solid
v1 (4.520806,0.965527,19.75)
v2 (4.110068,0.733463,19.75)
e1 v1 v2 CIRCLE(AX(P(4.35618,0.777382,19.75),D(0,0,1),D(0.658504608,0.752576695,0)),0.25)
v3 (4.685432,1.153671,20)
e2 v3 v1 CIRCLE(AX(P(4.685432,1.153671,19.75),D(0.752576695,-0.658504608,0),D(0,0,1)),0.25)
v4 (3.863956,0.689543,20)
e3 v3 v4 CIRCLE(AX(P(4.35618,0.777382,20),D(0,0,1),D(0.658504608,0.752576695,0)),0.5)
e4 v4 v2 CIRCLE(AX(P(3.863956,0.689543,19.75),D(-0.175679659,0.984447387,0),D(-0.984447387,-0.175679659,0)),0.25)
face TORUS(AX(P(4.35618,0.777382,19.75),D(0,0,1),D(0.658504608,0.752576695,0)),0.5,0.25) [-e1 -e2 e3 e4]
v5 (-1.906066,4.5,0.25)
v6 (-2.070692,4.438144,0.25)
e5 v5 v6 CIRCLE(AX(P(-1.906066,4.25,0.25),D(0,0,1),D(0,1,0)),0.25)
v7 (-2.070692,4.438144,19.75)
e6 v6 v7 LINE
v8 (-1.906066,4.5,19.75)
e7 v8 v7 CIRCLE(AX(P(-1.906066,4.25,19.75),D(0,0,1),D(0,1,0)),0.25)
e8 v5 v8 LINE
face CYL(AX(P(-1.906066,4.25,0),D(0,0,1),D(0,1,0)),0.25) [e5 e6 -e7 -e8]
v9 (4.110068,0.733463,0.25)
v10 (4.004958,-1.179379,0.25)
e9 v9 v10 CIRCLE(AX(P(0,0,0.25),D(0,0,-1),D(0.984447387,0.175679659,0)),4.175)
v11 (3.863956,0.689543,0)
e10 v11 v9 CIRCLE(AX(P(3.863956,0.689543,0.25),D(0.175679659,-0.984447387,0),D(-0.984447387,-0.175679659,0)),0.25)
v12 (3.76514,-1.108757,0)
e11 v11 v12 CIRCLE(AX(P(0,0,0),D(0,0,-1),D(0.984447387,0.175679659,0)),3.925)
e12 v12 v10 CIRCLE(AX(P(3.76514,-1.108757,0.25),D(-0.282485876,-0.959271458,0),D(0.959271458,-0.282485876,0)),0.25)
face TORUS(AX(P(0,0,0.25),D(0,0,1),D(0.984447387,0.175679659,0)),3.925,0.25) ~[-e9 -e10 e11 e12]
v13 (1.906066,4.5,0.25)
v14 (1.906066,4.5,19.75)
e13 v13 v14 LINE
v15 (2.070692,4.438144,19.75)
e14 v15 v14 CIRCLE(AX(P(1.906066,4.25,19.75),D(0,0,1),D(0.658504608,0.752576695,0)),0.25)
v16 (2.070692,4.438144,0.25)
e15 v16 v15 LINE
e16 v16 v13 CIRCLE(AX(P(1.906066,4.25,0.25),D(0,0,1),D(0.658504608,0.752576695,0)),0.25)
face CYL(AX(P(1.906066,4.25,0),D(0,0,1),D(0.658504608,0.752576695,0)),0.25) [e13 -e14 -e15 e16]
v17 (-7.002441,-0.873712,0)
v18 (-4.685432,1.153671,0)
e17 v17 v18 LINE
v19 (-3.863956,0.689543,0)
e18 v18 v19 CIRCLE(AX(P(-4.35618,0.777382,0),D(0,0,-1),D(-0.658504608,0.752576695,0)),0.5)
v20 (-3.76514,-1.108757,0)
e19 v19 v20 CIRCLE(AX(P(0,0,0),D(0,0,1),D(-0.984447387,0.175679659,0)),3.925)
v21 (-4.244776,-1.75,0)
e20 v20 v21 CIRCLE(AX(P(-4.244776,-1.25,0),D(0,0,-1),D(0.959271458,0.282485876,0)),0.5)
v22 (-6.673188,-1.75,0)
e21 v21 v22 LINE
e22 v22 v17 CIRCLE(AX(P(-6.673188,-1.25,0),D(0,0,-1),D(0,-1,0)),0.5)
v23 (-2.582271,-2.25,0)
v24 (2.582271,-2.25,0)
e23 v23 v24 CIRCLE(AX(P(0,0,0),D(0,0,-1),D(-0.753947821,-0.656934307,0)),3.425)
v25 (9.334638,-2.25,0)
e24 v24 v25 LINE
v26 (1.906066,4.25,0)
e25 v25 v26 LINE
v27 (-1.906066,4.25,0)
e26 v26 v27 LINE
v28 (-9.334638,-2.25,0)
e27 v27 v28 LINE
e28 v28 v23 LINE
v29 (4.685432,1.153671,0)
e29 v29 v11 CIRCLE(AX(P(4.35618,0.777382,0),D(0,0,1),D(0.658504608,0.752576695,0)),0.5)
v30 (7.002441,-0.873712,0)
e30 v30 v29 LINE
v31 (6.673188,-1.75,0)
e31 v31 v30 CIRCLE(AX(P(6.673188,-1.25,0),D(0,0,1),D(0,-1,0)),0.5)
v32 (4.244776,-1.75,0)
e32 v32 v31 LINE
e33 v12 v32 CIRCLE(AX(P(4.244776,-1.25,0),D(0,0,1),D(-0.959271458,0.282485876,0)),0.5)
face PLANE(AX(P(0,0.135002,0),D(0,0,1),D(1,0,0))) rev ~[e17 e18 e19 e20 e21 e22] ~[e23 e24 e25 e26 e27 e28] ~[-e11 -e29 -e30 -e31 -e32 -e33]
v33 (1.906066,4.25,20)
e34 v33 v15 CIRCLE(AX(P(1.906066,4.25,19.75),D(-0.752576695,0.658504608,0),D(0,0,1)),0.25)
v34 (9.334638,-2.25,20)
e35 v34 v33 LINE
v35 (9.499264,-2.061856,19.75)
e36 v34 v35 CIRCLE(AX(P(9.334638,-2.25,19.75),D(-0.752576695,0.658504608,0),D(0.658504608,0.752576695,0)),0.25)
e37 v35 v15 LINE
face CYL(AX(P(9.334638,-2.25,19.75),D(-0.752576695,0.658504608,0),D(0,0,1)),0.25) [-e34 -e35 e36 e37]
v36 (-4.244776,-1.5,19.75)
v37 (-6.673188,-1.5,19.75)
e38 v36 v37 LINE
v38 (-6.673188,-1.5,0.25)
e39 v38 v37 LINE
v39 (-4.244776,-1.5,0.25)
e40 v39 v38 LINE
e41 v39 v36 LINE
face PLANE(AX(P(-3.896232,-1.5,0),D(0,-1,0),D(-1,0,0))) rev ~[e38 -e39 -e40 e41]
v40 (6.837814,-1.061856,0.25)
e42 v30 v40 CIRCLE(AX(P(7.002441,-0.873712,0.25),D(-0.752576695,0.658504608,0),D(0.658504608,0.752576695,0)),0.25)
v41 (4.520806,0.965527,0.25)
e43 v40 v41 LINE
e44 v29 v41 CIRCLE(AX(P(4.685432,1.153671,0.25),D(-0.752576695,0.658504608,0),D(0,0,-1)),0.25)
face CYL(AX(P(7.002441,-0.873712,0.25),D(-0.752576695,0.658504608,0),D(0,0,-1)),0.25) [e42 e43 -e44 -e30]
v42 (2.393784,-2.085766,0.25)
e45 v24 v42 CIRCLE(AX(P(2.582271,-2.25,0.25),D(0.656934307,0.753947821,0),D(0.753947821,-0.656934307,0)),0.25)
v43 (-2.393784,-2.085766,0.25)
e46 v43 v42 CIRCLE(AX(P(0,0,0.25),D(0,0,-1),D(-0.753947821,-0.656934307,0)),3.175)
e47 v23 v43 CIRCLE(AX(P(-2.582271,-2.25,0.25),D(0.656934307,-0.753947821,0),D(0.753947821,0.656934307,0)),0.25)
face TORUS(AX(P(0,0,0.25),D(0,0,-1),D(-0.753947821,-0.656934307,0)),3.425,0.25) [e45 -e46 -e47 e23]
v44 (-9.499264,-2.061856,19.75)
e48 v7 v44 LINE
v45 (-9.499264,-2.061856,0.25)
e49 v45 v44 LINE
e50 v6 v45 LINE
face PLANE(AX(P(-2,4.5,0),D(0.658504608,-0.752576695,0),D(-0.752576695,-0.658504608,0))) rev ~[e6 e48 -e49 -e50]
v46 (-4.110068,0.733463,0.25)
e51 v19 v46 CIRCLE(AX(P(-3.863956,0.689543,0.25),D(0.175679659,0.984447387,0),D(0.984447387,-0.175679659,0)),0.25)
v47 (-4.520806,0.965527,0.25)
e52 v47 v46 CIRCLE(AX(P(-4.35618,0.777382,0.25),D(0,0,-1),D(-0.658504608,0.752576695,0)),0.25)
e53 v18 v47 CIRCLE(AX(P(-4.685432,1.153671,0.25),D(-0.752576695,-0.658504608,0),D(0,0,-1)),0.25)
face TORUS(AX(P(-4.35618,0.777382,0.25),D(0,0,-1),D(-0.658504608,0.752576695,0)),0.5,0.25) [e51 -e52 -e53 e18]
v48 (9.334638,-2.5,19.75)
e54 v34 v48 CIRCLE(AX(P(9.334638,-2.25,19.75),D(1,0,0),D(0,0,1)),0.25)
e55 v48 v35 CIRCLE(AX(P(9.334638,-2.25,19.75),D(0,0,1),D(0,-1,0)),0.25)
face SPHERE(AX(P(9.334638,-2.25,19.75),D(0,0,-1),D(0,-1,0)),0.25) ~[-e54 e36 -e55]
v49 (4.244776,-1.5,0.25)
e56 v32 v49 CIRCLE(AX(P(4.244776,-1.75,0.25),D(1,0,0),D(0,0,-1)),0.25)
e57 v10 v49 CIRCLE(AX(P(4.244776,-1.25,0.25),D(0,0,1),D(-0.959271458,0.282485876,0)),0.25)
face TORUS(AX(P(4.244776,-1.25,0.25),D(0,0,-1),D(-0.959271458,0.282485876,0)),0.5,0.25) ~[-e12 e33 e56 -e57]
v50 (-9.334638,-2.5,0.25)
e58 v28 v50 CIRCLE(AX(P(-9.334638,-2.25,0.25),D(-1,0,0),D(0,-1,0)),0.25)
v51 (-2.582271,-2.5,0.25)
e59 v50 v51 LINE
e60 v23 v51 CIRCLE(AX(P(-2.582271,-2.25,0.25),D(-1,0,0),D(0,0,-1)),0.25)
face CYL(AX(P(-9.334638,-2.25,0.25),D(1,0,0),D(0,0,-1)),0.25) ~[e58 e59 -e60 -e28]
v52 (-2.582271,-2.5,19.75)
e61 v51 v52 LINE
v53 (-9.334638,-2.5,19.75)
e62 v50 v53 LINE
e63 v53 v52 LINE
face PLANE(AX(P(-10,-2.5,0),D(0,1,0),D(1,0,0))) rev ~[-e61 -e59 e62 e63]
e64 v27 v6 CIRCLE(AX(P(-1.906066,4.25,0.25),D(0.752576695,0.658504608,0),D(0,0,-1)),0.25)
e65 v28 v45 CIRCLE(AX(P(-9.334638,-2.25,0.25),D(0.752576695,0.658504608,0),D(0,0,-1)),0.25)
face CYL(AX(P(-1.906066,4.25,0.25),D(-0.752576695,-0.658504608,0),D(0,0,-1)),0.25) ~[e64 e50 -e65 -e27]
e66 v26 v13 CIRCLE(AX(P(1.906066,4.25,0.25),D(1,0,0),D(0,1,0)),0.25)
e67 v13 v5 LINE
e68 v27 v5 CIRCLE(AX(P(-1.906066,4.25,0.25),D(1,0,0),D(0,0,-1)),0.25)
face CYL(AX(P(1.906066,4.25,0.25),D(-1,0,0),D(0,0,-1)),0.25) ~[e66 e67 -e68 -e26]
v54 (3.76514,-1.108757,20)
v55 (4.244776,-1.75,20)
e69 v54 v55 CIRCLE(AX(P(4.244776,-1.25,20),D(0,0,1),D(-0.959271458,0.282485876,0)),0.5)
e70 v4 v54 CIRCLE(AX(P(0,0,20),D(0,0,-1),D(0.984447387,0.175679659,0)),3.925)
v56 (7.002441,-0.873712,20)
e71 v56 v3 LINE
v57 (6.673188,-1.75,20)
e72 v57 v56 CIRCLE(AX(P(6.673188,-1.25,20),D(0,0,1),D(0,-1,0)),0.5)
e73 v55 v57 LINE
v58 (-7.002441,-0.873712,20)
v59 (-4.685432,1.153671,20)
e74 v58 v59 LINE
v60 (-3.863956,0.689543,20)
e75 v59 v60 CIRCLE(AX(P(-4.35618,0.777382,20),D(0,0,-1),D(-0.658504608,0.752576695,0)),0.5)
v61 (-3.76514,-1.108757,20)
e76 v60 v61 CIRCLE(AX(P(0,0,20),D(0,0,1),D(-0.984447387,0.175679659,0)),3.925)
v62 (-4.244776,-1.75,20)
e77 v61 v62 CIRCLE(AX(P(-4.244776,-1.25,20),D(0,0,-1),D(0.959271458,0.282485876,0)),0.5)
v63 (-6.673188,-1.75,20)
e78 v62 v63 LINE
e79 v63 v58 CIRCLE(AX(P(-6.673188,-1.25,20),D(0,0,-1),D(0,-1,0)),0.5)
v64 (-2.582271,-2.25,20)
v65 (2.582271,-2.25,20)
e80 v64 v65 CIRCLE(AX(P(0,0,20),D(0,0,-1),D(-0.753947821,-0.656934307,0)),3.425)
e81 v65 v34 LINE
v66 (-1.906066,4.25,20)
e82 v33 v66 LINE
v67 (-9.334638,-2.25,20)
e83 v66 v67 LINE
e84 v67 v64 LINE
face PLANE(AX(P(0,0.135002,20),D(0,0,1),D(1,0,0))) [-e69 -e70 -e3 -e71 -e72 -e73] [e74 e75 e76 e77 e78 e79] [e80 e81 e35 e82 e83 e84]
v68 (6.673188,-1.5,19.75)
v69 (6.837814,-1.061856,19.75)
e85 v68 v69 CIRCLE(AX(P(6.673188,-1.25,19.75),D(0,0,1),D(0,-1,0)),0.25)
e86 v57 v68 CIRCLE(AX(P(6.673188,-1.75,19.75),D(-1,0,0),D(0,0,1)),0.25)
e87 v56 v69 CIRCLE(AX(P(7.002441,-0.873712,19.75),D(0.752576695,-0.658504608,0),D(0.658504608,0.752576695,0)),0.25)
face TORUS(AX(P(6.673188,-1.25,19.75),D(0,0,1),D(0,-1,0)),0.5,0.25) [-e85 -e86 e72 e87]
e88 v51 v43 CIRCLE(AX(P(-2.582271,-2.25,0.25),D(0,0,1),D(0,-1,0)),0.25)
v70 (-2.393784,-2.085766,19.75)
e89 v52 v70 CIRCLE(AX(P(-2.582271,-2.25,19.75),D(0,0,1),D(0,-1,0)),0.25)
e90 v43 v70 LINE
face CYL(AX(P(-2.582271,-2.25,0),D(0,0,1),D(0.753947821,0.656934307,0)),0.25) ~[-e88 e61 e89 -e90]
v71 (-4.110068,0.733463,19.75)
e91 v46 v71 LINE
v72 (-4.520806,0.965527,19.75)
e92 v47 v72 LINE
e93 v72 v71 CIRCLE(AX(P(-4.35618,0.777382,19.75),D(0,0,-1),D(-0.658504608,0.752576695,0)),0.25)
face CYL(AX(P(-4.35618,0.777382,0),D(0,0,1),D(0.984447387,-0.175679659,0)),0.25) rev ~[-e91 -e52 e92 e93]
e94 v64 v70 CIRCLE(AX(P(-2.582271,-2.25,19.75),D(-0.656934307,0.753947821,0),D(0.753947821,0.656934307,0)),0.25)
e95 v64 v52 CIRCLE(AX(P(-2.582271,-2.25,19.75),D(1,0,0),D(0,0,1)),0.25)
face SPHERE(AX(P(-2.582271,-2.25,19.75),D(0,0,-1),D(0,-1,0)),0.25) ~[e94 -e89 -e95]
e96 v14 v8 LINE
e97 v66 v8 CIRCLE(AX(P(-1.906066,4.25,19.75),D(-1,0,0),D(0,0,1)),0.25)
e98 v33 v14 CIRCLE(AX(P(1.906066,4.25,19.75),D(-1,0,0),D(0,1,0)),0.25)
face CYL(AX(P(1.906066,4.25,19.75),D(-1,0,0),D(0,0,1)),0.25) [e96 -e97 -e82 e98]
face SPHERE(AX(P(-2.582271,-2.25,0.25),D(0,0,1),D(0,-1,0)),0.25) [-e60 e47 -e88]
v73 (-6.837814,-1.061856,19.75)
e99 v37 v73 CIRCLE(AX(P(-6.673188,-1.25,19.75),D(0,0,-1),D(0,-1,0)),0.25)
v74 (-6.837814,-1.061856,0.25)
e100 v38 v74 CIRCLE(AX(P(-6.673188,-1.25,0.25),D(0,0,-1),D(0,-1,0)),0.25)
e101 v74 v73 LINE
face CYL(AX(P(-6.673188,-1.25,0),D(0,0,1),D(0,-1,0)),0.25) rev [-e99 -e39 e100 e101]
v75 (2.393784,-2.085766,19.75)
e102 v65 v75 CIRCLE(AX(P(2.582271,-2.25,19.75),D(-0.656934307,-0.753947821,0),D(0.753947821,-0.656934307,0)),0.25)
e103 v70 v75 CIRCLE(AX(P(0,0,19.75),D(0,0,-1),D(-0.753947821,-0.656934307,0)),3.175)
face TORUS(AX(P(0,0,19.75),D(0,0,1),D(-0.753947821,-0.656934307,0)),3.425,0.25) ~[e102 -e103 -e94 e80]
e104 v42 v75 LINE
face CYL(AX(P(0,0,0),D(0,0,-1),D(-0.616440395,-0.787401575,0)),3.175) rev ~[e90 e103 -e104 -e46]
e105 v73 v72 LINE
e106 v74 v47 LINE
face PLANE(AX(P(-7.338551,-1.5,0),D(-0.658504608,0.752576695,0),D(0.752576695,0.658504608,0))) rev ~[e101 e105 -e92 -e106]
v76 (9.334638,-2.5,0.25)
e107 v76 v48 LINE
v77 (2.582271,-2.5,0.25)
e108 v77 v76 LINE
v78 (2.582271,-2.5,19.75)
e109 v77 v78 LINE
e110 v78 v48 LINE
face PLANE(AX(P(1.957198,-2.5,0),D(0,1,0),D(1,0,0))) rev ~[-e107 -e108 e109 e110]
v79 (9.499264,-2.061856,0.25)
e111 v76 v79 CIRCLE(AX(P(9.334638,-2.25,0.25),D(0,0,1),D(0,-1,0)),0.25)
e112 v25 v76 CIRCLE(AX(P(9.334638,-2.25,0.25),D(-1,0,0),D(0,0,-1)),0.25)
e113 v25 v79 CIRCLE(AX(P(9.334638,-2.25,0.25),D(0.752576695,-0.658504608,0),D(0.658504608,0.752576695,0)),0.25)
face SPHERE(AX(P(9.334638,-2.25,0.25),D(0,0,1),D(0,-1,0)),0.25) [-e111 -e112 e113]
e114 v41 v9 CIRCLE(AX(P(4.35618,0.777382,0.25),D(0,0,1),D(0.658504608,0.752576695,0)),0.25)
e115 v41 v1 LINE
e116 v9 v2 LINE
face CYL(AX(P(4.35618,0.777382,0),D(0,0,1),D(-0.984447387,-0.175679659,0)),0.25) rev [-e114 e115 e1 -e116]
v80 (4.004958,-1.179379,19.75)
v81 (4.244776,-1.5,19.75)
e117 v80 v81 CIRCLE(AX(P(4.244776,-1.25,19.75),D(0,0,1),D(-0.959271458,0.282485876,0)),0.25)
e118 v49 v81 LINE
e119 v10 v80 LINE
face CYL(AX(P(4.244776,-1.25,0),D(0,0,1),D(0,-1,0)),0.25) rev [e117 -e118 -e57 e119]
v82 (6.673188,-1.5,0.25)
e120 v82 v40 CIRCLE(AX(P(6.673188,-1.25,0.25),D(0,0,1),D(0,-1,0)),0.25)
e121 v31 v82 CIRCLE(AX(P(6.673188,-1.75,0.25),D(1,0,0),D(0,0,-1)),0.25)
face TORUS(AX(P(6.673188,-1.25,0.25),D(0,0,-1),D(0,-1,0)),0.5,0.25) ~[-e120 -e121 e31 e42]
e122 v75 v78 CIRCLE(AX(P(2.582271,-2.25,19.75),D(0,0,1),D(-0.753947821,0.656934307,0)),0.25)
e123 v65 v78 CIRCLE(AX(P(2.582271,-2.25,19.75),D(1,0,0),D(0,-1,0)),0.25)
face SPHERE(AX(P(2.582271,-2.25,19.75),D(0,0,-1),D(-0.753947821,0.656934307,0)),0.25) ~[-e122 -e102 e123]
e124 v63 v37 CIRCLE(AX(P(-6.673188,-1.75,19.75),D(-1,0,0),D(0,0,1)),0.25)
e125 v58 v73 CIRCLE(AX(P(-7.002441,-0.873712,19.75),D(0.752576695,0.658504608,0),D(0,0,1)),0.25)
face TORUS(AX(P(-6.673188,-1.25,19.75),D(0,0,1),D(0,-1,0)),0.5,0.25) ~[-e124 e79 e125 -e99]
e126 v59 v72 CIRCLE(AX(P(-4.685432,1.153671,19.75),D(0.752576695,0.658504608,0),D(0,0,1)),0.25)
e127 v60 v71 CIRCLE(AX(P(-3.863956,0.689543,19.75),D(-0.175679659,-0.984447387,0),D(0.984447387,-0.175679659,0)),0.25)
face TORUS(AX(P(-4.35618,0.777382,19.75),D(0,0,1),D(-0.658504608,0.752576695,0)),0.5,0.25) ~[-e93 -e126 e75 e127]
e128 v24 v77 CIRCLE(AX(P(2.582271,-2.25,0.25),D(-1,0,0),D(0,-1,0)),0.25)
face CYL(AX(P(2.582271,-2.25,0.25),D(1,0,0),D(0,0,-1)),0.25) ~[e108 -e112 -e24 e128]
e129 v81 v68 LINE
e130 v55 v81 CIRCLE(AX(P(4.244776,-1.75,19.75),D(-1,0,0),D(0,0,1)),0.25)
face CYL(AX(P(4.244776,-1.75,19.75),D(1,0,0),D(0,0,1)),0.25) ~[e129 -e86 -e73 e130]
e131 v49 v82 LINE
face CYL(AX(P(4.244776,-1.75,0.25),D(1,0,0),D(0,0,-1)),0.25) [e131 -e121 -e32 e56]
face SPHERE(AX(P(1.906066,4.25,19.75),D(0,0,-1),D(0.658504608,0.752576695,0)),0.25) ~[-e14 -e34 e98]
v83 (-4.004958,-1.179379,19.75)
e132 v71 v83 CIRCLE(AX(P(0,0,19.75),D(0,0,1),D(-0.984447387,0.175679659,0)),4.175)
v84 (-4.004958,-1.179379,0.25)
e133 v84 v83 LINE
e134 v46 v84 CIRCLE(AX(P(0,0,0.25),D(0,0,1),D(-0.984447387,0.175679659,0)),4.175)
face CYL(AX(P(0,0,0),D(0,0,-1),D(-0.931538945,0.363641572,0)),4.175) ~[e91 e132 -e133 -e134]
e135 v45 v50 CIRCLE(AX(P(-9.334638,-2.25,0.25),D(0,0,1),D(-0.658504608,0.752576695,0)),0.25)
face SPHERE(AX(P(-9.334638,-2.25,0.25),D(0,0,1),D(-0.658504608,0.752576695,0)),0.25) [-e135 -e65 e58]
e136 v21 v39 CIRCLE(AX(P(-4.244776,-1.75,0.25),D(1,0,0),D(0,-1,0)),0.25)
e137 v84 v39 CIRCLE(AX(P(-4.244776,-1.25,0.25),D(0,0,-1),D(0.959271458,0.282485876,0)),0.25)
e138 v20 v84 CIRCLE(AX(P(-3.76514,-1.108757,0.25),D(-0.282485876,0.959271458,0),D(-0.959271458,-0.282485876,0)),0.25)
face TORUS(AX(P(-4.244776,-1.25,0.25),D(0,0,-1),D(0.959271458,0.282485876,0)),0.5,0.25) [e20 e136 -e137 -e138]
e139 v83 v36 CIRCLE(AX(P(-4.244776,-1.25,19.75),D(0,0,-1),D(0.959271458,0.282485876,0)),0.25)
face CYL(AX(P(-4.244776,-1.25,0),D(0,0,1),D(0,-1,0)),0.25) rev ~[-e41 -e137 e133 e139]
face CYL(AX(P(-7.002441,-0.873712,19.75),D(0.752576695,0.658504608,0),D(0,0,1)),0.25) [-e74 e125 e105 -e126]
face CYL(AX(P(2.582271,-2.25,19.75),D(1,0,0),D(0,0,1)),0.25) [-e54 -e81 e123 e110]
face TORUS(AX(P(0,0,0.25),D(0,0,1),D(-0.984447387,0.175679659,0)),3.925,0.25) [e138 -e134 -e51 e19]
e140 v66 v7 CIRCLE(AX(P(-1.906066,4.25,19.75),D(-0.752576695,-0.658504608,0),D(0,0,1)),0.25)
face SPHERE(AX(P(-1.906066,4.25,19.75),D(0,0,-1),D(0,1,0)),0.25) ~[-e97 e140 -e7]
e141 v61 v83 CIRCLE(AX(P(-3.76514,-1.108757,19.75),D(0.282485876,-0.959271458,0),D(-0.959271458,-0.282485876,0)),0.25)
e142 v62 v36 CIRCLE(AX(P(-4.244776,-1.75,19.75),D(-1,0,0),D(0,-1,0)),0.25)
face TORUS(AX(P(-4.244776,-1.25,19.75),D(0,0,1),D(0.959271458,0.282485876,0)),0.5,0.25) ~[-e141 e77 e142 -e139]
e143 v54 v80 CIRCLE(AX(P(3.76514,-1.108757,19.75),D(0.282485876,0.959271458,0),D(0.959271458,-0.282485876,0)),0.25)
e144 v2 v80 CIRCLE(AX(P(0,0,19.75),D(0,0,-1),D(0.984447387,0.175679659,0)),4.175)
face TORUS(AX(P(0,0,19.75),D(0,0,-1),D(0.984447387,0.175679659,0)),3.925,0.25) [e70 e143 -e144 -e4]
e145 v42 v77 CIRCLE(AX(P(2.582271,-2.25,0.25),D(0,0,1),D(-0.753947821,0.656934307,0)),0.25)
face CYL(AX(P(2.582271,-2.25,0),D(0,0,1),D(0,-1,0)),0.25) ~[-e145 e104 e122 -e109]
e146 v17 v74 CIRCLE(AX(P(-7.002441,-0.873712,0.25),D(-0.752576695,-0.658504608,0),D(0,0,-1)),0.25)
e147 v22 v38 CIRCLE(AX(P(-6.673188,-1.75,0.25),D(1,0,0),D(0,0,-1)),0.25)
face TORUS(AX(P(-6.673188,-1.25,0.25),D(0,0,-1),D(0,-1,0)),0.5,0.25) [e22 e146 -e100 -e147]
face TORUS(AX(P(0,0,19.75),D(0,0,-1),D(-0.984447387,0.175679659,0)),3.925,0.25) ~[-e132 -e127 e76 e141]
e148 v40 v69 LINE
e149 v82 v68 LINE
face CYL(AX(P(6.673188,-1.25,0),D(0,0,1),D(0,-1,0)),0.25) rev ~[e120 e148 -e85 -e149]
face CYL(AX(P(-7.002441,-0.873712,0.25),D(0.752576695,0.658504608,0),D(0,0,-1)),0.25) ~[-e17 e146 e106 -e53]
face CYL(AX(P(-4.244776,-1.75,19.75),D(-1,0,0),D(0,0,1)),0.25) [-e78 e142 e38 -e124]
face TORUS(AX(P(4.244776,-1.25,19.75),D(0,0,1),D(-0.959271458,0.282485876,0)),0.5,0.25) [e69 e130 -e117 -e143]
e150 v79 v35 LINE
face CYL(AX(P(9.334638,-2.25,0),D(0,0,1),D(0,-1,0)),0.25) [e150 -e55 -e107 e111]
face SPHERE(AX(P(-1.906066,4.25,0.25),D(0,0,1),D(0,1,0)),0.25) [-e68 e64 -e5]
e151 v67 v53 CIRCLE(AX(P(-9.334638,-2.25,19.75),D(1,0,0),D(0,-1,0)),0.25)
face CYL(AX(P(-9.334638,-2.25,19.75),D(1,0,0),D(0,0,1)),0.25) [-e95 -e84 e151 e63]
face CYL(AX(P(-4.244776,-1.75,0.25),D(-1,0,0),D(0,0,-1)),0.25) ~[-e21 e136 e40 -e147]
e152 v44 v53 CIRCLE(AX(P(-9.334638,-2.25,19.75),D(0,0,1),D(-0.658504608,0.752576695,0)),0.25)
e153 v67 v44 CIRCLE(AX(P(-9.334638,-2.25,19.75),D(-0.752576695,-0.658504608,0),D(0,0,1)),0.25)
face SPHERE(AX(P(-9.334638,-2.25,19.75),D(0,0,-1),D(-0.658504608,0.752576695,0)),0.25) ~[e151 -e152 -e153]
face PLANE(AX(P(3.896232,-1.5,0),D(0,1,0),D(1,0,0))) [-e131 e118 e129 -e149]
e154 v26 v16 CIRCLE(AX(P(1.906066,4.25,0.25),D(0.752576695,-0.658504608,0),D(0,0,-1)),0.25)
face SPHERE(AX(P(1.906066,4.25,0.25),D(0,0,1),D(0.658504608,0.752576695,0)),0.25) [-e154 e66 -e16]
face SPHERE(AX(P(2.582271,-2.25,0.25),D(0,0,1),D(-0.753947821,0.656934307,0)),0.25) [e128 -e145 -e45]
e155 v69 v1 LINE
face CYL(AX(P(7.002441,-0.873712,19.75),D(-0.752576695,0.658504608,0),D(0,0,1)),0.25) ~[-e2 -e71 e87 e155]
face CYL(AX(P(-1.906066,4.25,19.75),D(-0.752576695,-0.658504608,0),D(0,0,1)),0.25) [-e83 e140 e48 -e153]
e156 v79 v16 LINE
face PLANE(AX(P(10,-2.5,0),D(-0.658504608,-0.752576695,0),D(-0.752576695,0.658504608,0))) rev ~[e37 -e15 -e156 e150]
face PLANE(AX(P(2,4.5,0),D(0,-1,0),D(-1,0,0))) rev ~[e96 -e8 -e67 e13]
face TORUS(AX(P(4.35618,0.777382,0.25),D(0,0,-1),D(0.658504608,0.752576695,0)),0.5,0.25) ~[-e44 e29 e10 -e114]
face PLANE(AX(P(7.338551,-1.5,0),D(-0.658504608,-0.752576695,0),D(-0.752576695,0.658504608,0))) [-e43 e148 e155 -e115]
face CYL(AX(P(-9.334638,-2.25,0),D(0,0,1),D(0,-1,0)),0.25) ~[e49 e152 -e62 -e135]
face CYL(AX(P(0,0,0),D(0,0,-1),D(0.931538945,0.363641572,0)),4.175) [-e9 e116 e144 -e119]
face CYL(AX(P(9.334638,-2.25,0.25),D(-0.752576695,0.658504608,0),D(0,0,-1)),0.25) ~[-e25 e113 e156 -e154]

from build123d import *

# Parameters (mm, degrees)
BOSS_EXTRUDE1_DEPTH = 20
FILLET1_R           = 0.25
FILLET2_R           = 0.25


with BuildPart() as part:
    # Sketch1 → Boss-Extrude1 (new body)
    with BuildSketch(Plane.XY):
        with BuildLine():
            Line((1.957198253, -2.5), (10, -2.5))
            Line((10, -2.5), (2, 4.5))
            Line((2, 4.5), (0, 4.5))
            Line((0, 4.5), (-2, 4.5))
            Line((-2, 4.5), (-10, -2.5))
            Line((-10, -2.5), (-1.957198253, -2.5))
            ThreePointArc((-1.957198253, -2.5), (0, 3.175), (1.957198253, -2.5))
        make_face()
        with BuildLine():
            Line((3.896232154, -1.5), (7.338550598, -1.5))
            Line((7.338550598, -1.5), (3.889175098, 1.518203563))
            ThreePointArc((3.889175098, 1.518203563), (4.174988588, 0.00976181), (3.896232154, -1.5))
        make_face(mode=Mode.SUBTRACT)
        with BuildLine():
            Line((-7.338550598, -1.5), (-3.889175098, 1.518203563))
            ThreePointArc((-3.889175098, 1.518203563), (-4.174988588, 0.00976181), (-3.896232154, -1.5))
            Line((-3.896232154, -1.5), (-7.338550598, -1.5))
        make_face(mode=Mode.SUBTRACT)
    extrude(amount=BOSS_EXTRUDE1_DEPTH)

    # Fillet1
    fillet1_edges = [part.edges().sort_by_distance(p)[0] for p in [
        (7.338550598, -1.5, 10),
        (3.889175098, 1.518203563, 10),
        (3.896232154, -1.5, 10),
        (-7.338550598, -1.5, 10),
        (-3.896232154, -1.5, 10),
        (-3.889175098, 1.518203563, 10),
        (-1.957198253, -2.5, 10),
        (-10, -2.5, 10),
        (-2, 4.5, 10),
        (2, 4.5, 10),
        (10, -2.5, 10),
        (1.957198253, -2.5, 10),
    ]]
    fillet(fillet1_edges, radius=FILLET1_R)

    # Fillet2
    fillet2_edges = [part.edges().sort_by_distance(p)[0] for p in [
        (-5.784978087, 1.188144174, 0),
        (-5.784978087, 1.188144174, 20),
        (0, 3.175, 0),
        (-5.958454468, -2.5, 0),
        (0, 4.5, 0),
        (5.784978087, 1.188144174, 0),
        (5.958454468, -2.5, 0),
        (-5.679310119, -0.048164581, 0),
        (-5.458982225, -1.5, 0),
        (-4.16871116, -0.229068247, 0),
        (5.458982225, -1.5, 0),
        (5.679310119, -0.048164581, 0),
        (4.16871116, -0.229068247, 0),
        (-9.568663336, -2.337931668, 0),
        (2.35472086, -2.35354131, 0),
        (9.568663336, -2.337931668, 0),
        (-2.35472086, -2.35354131, 0),
        (1.993997889, 4.484025686, 0),
        (-1.993997889, 4.484025686, 0),
        (0, 4.5, 20),
        (0, 3.175, 20),
        (5.958454468, -2.5, 20),
        (5.784978087, 1.188144174, 20),
        (-5.958454468, -2.5, 20),
        (-5.679310119, -0.048164581, 20),
        (-4.16871116, -0.229068247, 20),
        (-5.458982225, -1.5, 20),
        (5.458982225, -1.5, 20),
        (4.16871116, -0.229068247, 20),
        (5.679310119, -0.048164581, 20),
        (-9.568663336, -2.337931668, 20),
        (2.35472086, -2.35354131, 20),
        (9.568663336, -2.337931668, 20),
        (-2.35472086, -2.35354131, 20),
        (1.993997889, 4.484025686, 20),
        (-1.993997889, 4.484025686, 20),
        (4.233202392, 0.995044121, 0),
        (4.233202392, 0.995044121, 20),
        (-4.233202392, 0.995044121, 0),
        (-4.233202392, 0.995044121, 20),
        (6.907213934, -1.337931668, 0),
        (6.907213934, -1.337931668, 20),
        (-4.044582087, -1.399740831, 0),
        (-4.044582087, -1.399740831, 20),
        (4.044582087, -1.399740831, 0),
        (4.044582087, -1.399740831, 20),
        (-6.907213934, -1.337931668, 0),
        (-6.907213934, -1.337931668, 20),
    ]]
    fillet(fillet2_edges, radius=FILLET2_R)


solid = part.part
